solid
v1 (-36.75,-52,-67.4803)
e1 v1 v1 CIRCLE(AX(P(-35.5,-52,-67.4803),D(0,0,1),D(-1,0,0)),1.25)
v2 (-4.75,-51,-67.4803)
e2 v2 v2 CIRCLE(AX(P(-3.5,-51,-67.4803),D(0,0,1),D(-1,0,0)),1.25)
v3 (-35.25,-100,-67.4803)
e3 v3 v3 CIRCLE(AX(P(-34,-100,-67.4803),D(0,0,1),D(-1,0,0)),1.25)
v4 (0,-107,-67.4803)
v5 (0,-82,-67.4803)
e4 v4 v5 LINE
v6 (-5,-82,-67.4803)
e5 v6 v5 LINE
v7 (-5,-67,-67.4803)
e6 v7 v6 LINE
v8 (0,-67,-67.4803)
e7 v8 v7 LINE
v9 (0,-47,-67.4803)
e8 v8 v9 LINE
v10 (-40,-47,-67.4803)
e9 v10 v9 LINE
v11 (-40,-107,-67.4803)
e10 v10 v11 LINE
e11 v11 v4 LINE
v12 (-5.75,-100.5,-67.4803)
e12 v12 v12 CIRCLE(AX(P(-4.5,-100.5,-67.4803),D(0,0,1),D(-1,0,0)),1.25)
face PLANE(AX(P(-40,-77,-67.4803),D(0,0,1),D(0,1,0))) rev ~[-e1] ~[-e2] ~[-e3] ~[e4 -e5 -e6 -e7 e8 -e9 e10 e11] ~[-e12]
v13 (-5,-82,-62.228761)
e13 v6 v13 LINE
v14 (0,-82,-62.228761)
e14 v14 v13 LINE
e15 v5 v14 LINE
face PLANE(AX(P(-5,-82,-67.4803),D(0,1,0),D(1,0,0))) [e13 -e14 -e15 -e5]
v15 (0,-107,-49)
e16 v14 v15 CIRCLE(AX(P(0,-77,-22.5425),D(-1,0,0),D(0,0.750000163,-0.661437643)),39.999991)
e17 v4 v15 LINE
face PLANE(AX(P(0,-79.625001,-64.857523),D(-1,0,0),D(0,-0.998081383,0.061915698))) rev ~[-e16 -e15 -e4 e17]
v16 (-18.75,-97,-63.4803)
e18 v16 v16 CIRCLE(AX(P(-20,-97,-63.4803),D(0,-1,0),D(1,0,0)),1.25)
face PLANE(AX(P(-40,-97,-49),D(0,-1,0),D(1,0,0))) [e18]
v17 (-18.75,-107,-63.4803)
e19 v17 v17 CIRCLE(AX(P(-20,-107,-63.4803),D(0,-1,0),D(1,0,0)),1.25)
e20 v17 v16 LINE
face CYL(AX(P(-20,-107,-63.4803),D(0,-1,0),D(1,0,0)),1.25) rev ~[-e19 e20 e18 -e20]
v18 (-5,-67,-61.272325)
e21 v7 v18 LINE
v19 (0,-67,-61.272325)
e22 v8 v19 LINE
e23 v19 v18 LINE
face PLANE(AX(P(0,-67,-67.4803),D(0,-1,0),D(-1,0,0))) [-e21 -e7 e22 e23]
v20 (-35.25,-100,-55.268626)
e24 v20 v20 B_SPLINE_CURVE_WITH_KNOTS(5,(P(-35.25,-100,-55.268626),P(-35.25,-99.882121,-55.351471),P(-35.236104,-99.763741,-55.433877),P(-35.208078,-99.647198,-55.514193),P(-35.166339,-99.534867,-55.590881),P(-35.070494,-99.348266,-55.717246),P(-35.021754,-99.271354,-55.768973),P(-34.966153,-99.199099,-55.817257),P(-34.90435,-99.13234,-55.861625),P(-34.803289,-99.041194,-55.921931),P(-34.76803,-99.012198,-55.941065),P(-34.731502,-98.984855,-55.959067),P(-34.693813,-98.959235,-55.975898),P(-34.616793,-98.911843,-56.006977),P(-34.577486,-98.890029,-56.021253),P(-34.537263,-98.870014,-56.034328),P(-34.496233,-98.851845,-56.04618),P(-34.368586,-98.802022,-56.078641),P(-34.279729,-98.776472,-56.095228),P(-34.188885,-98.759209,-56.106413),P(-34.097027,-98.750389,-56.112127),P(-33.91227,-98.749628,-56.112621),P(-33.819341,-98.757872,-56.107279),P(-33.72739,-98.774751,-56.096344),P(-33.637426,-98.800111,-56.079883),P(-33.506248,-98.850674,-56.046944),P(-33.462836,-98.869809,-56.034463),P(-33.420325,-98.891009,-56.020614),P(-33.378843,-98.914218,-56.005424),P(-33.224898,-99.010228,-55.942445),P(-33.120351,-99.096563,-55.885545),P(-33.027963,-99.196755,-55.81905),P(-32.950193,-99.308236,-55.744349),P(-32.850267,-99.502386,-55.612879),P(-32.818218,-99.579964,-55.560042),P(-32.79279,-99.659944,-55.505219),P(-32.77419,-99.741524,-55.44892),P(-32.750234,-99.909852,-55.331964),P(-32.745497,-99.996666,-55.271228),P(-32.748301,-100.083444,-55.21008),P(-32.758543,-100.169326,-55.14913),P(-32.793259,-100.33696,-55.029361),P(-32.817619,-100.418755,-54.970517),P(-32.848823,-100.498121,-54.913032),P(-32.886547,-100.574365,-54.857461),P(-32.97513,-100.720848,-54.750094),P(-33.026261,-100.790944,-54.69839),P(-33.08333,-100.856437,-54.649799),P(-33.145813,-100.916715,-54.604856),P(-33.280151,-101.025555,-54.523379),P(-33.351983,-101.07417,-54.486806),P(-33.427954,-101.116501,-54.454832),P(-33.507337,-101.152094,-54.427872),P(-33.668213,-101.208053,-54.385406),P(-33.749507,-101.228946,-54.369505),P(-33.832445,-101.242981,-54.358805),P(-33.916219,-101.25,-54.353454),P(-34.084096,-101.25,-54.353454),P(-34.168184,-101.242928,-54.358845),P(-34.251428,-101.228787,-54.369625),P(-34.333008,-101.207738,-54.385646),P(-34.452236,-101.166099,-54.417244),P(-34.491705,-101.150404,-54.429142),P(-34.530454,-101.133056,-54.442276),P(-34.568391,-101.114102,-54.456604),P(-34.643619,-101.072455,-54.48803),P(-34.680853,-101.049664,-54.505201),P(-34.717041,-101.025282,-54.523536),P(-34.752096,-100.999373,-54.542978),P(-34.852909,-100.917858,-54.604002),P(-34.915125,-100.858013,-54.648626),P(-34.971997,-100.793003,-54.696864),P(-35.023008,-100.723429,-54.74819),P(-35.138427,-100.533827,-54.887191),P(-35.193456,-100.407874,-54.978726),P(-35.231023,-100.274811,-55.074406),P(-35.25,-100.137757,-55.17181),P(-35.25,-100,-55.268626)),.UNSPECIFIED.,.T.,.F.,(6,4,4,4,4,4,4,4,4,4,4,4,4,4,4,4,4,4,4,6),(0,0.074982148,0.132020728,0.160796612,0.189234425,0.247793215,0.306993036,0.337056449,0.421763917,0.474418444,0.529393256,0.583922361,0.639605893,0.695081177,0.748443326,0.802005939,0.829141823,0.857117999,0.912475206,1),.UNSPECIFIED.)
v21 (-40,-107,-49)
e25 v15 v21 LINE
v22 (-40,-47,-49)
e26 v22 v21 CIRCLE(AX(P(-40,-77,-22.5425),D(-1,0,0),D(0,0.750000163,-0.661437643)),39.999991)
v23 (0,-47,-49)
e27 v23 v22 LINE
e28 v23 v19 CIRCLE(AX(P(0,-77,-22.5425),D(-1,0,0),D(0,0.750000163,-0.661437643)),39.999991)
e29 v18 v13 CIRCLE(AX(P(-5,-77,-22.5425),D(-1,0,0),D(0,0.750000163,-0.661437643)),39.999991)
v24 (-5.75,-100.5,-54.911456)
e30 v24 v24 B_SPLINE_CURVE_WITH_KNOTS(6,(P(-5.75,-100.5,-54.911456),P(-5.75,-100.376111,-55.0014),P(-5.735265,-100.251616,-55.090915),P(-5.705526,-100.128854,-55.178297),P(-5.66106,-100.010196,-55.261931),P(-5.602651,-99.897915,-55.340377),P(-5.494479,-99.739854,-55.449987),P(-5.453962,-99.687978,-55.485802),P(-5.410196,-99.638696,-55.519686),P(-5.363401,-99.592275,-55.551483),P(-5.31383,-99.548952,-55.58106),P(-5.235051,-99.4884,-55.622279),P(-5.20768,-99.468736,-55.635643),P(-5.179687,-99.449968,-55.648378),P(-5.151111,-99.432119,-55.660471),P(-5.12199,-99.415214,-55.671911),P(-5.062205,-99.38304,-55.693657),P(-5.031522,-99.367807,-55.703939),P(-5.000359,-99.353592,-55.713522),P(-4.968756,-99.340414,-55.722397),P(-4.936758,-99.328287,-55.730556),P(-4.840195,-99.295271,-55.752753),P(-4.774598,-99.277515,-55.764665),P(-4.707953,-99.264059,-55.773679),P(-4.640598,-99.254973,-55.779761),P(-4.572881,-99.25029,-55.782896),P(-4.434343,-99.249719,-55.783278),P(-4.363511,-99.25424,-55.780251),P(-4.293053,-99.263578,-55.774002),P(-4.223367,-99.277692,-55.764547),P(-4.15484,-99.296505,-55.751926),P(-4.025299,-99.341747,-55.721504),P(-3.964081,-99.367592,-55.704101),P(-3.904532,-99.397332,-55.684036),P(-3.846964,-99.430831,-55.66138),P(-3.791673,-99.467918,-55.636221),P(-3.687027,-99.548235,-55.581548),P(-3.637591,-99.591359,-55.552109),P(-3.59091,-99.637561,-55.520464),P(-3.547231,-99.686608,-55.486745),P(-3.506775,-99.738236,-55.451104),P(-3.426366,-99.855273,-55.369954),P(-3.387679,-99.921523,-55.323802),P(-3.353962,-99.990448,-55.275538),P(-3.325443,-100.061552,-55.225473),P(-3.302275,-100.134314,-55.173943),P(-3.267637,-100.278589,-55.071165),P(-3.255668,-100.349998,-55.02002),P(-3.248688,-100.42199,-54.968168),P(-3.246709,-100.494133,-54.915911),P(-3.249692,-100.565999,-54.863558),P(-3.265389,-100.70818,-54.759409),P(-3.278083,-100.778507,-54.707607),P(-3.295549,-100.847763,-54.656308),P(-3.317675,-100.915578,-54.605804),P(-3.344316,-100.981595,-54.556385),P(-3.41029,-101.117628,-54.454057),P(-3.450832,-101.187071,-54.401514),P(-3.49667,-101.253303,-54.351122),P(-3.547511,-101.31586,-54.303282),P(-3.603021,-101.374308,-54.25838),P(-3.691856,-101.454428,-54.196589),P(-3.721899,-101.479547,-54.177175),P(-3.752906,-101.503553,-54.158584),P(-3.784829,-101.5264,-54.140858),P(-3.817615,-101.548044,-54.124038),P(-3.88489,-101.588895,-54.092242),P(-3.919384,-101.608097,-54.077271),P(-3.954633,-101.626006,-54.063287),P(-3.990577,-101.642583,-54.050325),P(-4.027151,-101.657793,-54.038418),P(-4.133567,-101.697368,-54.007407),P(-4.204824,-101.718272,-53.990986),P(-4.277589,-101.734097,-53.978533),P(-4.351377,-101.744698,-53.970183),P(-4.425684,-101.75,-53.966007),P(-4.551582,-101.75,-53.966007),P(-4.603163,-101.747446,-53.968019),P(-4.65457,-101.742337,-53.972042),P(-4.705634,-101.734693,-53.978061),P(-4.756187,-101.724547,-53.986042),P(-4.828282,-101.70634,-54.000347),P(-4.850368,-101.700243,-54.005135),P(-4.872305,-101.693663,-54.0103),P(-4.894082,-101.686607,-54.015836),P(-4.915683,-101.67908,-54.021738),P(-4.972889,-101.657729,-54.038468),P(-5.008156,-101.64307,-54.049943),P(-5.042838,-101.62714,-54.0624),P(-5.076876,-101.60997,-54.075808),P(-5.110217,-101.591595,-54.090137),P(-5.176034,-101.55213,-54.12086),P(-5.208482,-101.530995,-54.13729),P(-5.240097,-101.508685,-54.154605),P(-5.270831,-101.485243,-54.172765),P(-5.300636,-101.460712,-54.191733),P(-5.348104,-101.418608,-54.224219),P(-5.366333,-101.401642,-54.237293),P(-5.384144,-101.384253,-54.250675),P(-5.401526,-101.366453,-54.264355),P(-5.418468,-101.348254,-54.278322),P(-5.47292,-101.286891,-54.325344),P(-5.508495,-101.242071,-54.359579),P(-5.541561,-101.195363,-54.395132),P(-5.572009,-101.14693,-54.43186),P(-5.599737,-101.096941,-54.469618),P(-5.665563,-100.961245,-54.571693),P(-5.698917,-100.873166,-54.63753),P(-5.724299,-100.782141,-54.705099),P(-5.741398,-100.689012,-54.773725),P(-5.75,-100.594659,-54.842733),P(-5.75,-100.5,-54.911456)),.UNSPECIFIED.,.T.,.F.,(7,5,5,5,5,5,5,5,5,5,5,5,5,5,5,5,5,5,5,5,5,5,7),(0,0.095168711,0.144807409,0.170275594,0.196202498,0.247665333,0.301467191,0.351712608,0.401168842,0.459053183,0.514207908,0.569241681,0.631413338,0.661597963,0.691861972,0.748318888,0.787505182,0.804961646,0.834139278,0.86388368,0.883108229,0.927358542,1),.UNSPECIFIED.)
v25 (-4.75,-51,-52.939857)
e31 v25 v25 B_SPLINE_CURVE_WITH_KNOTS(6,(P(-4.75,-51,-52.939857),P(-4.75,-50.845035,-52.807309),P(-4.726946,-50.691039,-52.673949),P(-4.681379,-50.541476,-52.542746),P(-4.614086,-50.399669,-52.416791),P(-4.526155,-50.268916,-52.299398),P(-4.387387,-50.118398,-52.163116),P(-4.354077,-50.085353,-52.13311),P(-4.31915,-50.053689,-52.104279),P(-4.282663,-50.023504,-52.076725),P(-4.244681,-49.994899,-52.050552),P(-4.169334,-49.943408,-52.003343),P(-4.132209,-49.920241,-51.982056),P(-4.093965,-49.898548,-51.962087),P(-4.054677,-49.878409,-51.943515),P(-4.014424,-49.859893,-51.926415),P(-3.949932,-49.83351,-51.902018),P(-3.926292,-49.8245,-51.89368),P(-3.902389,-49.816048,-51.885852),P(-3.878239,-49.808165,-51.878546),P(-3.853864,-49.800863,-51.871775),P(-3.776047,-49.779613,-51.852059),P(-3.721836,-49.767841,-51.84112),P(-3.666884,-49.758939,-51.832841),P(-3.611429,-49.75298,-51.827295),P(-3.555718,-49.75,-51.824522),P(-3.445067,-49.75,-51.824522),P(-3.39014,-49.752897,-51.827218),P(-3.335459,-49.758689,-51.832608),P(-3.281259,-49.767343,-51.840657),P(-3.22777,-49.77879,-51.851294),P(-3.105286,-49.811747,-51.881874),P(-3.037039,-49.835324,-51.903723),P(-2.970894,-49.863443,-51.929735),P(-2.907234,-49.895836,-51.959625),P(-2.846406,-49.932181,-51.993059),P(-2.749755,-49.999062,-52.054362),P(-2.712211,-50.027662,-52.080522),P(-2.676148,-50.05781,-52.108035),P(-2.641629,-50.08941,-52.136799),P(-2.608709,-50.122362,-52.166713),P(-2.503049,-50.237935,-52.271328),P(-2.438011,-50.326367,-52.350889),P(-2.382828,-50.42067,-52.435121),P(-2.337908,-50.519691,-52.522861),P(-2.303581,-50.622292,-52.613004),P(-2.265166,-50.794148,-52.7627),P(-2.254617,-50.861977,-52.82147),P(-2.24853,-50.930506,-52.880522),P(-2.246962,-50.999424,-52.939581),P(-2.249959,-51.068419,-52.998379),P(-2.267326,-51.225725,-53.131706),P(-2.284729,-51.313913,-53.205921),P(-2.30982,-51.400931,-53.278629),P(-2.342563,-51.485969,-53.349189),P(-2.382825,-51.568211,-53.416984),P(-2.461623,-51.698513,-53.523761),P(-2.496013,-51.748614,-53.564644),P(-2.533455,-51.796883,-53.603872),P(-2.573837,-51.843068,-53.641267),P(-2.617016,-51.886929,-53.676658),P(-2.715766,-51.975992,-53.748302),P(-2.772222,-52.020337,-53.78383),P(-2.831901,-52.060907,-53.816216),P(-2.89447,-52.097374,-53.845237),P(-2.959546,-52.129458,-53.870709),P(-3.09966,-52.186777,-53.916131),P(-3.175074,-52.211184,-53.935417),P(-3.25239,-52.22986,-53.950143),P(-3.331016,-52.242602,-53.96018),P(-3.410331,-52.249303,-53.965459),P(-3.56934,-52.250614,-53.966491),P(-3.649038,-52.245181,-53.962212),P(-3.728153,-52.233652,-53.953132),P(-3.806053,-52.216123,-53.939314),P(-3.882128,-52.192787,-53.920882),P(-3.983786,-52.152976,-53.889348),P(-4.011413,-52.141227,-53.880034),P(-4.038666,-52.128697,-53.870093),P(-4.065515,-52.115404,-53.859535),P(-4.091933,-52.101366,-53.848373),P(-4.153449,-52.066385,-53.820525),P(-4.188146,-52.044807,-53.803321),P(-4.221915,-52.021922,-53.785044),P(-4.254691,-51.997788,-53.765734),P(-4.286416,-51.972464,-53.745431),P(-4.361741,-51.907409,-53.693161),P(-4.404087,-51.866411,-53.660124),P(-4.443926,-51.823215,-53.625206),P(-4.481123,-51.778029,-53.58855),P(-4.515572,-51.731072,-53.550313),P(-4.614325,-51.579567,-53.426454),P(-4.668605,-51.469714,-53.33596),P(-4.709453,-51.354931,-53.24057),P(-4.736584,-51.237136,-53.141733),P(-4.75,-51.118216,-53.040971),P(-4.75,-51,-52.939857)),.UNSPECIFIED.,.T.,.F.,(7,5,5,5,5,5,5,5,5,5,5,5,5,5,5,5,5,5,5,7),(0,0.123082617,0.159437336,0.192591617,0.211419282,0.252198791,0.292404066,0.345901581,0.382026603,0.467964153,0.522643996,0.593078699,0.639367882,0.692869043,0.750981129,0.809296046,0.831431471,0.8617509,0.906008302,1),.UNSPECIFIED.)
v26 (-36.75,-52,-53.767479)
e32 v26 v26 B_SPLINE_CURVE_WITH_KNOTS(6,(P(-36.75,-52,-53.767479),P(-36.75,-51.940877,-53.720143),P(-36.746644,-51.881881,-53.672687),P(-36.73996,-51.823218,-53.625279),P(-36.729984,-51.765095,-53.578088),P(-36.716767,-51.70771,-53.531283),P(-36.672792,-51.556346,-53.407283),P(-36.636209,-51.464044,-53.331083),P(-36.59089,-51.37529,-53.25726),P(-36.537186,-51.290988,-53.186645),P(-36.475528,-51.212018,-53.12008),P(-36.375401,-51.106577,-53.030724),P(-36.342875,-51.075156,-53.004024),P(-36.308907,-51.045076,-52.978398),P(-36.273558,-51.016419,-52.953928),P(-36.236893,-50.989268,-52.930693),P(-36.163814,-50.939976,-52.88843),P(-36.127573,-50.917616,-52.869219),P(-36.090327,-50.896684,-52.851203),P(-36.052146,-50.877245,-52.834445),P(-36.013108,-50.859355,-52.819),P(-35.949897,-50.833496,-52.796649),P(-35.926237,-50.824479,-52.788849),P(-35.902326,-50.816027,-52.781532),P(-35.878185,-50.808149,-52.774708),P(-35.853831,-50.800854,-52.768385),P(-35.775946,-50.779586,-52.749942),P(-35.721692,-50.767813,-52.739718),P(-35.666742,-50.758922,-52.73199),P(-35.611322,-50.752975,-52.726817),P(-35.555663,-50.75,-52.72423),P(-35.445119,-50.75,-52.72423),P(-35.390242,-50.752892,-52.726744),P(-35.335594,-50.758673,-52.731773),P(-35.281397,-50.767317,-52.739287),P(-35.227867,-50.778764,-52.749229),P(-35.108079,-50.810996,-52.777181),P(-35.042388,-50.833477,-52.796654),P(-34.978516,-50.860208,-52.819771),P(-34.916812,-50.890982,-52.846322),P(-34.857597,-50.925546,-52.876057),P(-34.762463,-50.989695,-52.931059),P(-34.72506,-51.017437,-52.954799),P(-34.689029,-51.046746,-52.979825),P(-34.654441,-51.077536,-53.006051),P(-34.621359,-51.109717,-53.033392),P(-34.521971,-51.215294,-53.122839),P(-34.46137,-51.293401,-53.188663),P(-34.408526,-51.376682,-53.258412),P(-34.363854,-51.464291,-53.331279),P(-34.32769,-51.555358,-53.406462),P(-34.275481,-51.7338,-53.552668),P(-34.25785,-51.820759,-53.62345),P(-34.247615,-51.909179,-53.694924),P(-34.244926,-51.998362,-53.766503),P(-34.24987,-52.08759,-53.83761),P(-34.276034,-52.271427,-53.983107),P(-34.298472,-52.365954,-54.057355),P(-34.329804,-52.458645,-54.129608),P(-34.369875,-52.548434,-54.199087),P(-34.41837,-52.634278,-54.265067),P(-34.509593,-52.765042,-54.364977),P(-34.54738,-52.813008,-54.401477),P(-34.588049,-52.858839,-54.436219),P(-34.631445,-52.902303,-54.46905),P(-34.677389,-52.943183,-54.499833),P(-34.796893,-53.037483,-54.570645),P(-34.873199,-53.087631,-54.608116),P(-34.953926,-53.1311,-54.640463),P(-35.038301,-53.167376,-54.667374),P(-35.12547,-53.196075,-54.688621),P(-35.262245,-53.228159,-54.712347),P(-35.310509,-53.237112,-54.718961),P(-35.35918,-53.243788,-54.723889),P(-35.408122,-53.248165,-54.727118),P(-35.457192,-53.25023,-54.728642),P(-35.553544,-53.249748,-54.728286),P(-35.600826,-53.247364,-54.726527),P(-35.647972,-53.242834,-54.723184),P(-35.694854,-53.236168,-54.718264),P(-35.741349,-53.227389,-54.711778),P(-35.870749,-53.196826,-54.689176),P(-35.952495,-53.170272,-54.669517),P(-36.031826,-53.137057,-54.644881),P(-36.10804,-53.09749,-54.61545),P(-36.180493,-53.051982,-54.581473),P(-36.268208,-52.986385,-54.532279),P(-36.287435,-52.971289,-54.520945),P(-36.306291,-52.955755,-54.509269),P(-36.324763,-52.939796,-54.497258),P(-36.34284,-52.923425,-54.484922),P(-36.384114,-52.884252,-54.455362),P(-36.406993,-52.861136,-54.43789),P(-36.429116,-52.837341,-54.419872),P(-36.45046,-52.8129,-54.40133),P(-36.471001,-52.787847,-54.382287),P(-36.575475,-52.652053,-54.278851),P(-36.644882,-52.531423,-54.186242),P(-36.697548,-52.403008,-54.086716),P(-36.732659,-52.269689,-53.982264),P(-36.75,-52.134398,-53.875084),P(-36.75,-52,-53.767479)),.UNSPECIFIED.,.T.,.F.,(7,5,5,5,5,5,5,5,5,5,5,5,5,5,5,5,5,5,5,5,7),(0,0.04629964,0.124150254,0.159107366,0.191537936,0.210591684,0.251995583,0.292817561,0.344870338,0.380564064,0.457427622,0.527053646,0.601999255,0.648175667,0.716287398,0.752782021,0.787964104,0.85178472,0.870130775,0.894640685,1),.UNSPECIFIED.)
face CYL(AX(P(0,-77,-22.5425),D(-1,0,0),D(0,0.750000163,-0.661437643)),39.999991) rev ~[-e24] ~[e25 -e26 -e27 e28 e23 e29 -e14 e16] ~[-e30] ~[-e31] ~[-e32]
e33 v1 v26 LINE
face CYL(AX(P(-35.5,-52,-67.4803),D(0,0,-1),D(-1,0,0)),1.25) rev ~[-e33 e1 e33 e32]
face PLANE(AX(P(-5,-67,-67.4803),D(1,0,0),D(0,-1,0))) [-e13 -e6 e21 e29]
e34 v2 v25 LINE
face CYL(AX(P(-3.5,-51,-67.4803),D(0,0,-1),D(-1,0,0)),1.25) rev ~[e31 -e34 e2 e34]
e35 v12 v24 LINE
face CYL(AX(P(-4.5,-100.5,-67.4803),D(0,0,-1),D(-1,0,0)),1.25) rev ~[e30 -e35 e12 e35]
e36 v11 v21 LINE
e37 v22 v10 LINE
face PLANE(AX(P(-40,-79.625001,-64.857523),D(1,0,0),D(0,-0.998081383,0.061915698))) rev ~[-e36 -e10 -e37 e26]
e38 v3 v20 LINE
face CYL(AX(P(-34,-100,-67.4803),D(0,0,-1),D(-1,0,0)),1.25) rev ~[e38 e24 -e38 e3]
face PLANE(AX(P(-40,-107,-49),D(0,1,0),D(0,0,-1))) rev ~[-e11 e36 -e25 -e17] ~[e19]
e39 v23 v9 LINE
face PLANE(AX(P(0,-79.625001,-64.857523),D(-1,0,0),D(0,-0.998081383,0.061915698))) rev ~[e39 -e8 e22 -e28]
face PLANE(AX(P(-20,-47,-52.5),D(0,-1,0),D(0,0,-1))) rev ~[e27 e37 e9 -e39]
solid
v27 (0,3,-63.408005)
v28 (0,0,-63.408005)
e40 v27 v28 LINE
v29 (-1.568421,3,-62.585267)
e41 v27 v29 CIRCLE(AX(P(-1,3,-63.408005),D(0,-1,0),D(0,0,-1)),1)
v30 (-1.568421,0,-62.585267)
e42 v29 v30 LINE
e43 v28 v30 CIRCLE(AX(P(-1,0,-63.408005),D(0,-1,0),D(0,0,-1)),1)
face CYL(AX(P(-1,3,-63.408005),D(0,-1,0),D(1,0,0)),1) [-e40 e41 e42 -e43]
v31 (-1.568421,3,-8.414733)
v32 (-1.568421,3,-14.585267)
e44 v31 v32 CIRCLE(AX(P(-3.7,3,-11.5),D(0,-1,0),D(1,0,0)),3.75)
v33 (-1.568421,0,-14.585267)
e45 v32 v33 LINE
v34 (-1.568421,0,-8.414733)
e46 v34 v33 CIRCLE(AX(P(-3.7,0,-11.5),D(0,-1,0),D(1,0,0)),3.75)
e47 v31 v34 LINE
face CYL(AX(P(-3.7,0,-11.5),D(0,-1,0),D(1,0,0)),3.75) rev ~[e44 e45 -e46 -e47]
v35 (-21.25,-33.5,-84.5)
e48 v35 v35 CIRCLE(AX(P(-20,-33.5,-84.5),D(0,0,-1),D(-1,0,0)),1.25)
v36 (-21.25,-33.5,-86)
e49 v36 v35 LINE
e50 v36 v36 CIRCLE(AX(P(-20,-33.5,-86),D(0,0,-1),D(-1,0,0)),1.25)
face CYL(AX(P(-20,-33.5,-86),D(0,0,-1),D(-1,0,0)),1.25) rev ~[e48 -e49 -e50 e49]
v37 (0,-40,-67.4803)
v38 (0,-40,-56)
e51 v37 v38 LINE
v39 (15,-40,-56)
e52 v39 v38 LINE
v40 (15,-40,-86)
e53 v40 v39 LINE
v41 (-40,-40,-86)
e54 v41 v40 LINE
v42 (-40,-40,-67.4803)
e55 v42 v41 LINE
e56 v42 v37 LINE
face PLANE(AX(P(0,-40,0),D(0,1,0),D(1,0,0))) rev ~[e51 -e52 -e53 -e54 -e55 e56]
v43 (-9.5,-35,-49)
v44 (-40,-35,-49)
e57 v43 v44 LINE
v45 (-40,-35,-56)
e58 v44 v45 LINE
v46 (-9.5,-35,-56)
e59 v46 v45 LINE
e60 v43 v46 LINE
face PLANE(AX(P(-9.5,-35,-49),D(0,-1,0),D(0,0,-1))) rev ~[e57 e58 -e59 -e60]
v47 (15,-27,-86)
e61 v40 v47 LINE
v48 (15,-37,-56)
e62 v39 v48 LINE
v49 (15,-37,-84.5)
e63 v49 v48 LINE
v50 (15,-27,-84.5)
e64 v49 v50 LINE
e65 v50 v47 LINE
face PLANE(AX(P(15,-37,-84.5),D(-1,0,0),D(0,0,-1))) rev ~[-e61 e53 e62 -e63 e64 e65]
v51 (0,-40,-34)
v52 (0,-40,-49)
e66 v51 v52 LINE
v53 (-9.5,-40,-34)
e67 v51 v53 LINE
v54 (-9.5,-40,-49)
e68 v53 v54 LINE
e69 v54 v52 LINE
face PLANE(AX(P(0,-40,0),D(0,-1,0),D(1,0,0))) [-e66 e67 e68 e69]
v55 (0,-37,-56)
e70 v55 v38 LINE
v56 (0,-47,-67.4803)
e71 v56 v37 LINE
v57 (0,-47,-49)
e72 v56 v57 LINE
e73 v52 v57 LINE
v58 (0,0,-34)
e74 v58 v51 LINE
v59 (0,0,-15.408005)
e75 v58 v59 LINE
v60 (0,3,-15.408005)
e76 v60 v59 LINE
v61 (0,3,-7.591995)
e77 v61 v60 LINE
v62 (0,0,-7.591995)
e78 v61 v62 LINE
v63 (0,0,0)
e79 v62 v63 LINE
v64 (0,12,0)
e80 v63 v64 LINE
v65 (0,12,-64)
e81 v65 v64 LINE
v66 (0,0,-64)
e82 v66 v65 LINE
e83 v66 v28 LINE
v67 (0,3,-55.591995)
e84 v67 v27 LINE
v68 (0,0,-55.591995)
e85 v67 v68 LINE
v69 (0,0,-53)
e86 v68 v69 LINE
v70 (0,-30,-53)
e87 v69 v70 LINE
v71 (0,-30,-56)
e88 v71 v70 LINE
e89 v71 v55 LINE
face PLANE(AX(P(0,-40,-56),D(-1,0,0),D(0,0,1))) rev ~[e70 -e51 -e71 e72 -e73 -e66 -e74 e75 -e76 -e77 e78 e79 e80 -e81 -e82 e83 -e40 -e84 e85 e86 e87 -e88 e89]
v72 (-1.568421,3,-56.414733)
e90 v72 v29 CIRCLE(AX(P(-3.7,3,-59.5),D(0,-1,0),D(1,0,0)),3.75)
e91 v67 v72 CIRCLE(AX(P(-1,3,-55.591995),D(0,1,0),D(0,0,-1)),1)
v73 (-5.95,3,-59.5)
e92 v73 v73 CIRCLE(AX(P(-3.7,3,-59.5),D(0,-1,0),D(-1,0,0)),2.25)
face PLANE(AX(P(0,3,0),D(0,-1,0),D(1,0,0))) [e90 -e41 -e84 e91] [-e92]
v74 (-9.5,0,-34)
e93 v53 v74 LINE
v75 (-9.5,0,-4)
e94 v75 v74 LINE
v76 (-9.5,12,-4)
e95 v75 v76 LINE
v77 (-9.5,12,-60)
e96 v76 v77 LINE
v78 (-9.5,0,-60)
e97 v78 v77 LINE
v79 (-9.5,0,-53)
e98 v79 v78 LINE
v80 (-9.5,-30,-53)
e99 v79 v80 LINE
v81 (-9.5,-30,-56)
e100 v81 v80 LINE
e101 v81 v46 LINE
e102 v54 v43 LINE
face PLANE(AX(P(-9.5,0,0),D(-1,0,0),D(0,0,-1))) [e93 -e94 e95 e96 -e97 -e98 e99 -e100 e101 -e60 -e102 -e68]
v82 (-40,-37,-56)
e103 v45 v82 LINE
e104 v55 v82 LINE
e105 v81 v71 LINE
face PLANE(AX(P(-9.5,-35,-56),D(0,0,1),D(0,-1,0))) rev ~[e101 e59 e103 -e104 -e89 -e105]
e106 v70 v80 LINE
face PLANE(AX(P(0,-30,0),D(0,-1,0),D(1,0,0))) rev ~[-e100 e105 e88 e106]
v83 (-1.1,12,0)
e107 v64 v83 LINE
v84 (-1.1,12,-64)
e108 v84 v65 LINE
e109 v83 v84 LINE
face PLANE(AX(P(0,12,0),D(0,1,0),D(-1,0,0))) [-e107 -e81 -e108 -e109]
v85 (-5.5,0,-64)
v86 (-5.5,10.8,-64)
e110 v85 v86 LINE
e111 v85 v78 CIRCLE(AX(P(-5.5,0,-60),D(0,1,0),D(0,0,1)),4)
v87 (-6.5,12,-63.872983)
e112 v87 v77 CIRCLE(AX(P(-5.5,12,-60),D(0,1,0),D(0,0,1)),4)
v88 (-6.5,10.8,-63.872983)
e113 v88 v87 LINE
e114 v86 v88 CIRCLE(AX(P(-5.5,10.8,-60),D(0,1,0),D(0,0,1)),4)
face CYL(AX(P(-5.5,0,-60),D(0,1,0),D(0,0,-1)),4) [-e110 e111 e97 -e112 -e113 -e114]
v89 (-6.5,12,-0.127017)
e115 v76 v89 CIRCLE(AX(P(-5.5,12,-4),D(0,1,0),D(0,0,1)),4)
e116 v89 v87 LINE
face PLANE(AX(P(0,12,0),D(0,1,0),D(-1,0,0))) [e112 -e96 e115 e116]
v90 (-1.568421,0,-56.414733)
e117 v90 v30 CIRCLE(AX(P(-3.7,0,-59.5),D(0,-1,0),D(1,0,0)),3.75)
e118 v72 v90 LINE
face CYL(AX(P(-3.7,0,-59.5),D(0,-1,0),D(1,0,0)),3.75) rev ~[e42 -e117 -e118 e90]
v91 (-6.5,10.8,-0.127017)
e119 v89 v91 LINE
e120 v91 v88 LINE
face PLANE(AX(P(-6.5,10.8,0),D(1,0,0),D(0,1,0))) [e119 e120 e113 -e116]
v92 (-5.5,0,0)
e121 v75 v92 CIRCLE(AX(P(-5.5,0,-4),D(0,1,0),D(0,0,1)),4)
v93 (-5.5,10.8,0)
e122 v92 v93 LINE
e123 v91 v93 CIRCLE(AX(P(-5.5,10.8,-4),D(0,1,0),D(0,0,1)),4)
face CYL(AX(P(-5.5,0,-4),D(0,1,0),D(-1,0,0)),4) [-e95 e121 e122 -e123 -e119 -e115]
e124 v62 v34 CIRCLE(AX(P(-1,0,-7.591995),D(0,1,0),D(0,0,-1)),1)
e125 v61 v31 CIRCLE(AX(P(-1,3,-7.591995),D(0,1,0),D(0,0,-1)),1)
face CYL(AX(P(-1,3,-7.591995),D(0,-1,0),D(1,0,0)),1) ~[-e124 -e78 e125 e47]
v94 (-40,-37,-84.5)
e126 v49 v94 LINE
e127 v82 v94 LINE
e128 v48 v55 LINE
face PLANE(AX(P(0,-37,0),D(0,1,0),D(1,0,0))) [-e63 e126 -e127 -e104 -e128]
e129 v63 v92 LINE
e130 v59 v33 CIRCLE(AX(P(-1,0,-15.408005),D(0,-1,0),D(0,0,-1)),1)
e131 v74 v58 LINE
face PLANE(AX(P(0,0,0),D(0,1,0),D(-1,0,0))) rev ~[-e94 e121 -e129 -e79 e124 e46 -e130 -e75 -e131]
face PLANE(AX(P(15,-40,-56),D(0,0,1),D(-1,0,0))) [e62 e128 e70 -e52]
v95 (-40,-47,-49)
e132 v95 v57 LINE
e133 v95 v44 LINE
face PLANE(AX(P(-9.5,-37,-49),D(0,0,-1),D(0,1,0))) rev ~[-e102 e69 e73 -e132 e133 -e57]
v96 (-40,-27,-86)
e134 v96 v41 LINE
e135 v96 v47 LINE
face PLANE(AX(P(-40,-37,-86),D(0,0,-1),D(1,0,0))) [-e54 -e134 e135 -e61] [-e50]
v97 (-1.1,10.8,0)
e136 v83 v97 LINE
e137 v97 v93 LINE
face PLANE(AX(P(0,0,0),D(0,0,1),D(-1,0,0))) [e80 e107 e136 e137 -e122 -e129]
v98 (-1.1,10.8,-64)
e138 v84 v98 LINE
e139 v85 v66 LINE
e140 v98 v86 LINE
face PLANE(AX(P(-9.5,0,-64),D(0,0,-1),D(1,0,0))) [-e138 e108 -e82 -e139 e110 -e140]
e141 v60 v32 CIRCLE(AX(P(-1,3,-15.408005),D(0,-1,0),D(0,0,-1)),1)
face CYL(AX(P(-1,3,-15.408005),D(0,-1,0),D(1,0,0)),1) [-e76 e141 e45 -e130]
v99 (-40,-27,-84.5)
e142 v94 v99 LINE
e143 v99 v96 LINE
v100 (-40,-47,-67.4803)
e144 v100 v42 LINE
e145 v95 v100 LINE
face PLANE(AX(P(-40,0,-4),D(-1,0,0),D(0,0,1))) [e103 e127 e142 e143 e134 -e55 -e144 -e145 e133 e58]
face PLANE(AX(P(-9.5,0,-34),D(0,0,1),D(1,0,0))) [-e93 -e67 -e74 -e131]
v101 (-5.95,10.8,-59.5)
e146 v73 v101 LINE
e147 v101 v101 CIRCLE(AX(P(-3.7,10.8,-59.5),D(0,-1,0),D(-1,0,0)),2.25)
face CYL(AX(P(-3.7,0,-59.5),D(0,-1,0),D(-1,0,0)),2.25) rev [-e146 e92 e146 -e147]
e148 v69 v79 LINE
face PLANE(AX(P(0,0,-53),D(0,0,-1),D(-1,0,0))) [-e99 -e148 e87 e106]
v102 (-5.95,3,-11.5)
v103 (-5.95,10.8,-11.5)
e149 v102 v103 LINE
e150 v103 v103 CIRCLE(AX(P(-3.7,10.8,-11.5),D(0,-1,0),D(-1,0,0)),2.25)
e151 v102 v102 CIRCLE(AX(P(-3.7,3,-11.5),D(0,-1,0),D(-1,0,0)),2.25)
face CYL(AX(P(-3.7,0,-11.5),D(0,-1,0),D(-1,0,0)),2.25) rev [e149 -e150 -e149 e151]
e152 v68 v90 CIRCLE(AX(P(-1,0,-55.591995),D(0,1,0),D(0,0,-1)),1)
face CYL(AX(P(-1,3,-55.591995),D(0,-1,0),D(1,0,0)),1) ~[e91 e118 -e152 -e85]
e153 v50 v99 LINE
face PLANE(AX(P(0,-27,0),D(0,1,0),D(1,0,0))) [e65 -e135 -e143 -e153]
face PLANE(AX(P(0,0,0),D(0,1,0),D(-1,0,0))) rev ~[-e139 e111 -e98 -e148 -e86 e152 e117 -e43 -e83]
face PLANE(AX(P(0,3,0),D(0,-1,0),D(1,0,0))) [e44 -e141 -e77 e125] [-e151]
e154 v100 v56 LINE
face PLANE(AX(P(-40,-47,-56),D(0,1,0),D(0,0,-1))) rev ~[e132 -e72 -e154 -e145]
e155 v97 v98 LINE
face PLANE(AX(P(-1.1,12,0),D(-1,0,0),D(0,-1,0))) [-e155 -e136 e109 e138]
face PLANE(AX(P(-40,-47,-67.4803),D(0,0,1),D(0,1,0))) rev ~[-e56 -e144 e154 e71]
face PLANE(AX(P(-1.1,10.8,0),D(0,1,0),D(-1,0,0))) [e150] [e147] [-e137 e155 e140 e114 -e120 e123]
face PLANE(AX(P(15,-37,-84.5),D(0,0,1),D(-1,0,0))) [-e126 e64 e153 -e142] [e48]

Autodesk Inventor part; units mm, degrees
ref_plane "YZ Plane" through (0, 0, 0) normal (1, 0, 0) x (0, 1, 0)
ref_plane "XZ Plane" through (0, 0, 0) normal (0, 1, 0) x (-1, 0, 0)
ref_plane "XY Plane" through (0, 0, 0) normal (0, 0, 1) x (1, 0, 0)
sketch "Sketch1" plane through (0, 0, 0) normal (0, 1, 0) x (-1, 0, 0)
  line L0 (0, 0) -> (9.5, 0)
  line L1 (9.5, 0) -> (9.5, -64)
  line L2 (9.5, -64) -> (0, -64)
  line L3 (0, -64) -> (0, 0)
  circle A0 centre (3.7, -11.5) radius 2.25
  circle A1 centre (3.7, -59.5) radius 2.25
  line L4 (3.7, -11.5) -> (3.7, -59.5) construction
  dimension "d1" = 9.5
  dimension "d2" = 64
  dimension "d3" = 4.5
  dimension "d4" = 48
  dimension "d6" = 3.7
  dimension "d17" = 4.5
extrude "Extrusion1" add sketch "Sketch1" along normal blind 12
sketch "Sketch2" plane through (-9.5, 0, 0) normal (0, 0, 1) x (1, 0, 0)
  line L0 (9.5, 12) -> (0, 12) projected
  line L1 (3, 12) -> (8.4, 12)
  line L2 (8.4, 12) -> (8.4, 10.8)
  line L3 (8.4, 10.8) -> (3, 10.8)
  line L4 (3, 10.8) -> (3, 12)
  line L5 (9.5, 0) -> (9.5, 12) projected
  line L6 (3.55, 0) -> (8.05, 0) projected
  line L7 (3.55, 12) -> (8.05, 12) projected
  line L8 (9.5, 0) -> (9.5, 12) projected
  line L9 (9.5, 0) -> (9.5, 12) projected
  line L10 (3.55, 12) -> (8.05, 12) projected
  line L11 (3.55, 12) -> (3.55, 0) projected
  line L12 (3.55, 12) -> (8.05, 12) projected
  line L13 (3.55, 0) -> (8.05, 0) projected
  line L14 (3.55, 12) -> (8.05, 12) projected
  line L15 (3.55, 0) -> (8.05, 0) projected
  line L16 (3.55, 12) -> (8.05, 12) projected
  line L17 (3.55, 0) -> (8.05, 0) projected
  dimension "d9" = 1.1
  dimension "d10" = 5.4
  dimension "d11" = 1.2
  dimension "d76" = 12
extrude "Extrusion2" cut sketch "Sketch2" against normal up to next
sketch "Sketch3" plane through (0, 0, 0) normal (0, -1, 0) x (1, 0, 0)
  circle A0 centre (-3.7, -11.5) radius 2.25 projected
  circle A1 centre (-3.7, -11.5) radius 3.75
  circle A2 centre (-3.7, -59.5) radius 2.25 projected
  circle A3 centre (-3.7, -59.5) radius 3.75
  point P0 (0, 0)
  dimension "d14" = 7.5
extrude "Extrusion3" cut sketch "Sketch3" against normal blind 3
fillet "Fillet1" radius 1 4 edges at (0, 1.5, -58.8897) (0, 1.5, -60.1103) (0, 1.5, -10.8897) (0, 1.5, -12.1103)
fillet "Fillet2" radius 4 2 edges at (-9.5, 6, -64) (-9.5, 6, 0)
sketch "Sketch28" plane through (0, 0, 0) normal (0, -1, 0) x (1, 0, 0)
  arc A0 (-1.5684, -56.4147) -> (0, -55.592) centre (-1, -55.592) ccw projected
  line L0 (0, -55.592) -> (0, -53)
  line L1 (0, -15.408) -> (0, -55.592) projected
  line L2 (-9.5, -60) -> (-9.5, -4) projected
  line L3 (0, -53) -> (-9.5, -53)
  line L4 (-9.5, -53) -> (-9.5, -34)
  line L5 (-9.5, -34) -> (0, -34)
  line L6 (0, -34) -> (0, -53)
  point P0 (0, 0)
  point P1 (0, -34)
  dimension "d107" = 2.592
  dimension "d108" = 19
extrude "Extrusion19" add sketch "Sketch28" along normal blind 30
sketch "Sketch40" plane through (0, -30, 0) normal (0, -1, 0) x (1, 0, 0)
  line L0 (0, -53) -> (-9.5, -53) projected
  line L1 (-9.5, -53) -> (-9.5, -56)
  line L2 (-9.5, -56) -> (0, -56)
  line L3 (0, -56) -> (0, -34)
  line L4 (0, 0) -> (0, -64) projected
  line L5 (0, -34) -> (-9.5, -34)
  line L6 (-9.5, -34) -> (-9.5, -53)
  line L7 (-9.5, -34) -> (0, -34)
  line L8 (0, -34) -> (0, -56)
  line L9 (0, -56) -> (-9.5, -56)
  line L10 (-9.5, -56) -> (-9.5, -34)
  dimension "d130" = 3
  dimension "d131" = 22
extrude "Extrusion21" add sketch "Sketch40" along normal blind 10
sketch "Sketch41" plane through (0, 0, -53) normal (0, 0, -1) x (-1, 0, 0)
  point P0 (0, 0)
sketch "Sketch42" plane through (0, -40, 0) normal (0, -1, 0) x (1, 0, 0)
  line L0 (-9.5, -56) -> (0, -56) projected
  line L1 (-9.5, -56) -> (-40, -56)
  line L2 (-9.5, -56) -> (21, -56) construction
  line L3 (-40, -56) -> (-40, -49)
  line L4 (-40, -49) -> (0, -49)
  line L5 (0, -49) -> (0, -56)
  line L6 (0, -56) -> (-9.5, -56)
  point P0 (0, 0)
  point P1 (0, -56)
  dimension "d134" = 30.5
  dimension "d135" = 180
  dimension "d136" = 7
  dimension "d137" = 40
  dimension "d138" = 7
extrude "Extrusion22" add sketch "Sketch42" along normal blind 7
sketch "Sketch54" plane through (-40, -40, -56) normal (-1, 0, 0) x (0, 0, 1)
  arc A0 (7, -7) -> (7, -57) centre (31.4949, -32) ccw projected
  line L0 (-6.4428, -57) -> (19.2704, -57)
  line L1 (19.2704, -57) -> (19.2704, -74.6848)
  line L2 (19.2704, -74.6848) -> (-6.4428, -74.6848)
  line L3 (-6.4428, -74.6848) -> (-6.4428, -57)
  point P0 (56, 40)
extrude "Extrusion25" cut sketch "Sketch54" against normal blind 104.3
sketch "Sketch56" plane through (0, -47, 0) normal (0, -1, 0) x (1, 0, 0)
  line L0 (-40, -56) -> (0, -56) projected
  line L1 (0, -56) -> (0, -49) projected
  line L2 (-40, -56) -> (0, -56)
  line L3 (0, -56) -> (0, -49)
  line L4 (0, -49) -> (-40, -49)
  line L5 (-40, -49) -> (-40, -56)
  point P0 (0, 0)
  point P1 (9.3, -58)
sketch "Sketch58" plane through (-40, -40, -56) normal (-1, 0, 0) x (0, 0, 1)
  arc A0 (7, -7) -> (7, -67) centre (33.4575, -37) ccw
  point P0 (56, 40)
  dimension "d164" = 60
  dimension "d165" = 40
sweep "Sweep4" add profiles "Sketch56" path "Sketch58" separate body
sketch "Sketch59" plane through (-40, -47, -56) normal (-1, 0, 0) x (0, 0, 1)
  line L0 (7.875, -66.9451) -> (7, -60) projected
  line L1 (7, -60) -> (-3.876, -60)
  line L2 (-3.876, -60) -> (-3.876, -70.2842)
  line L3 (-3.876, -70.2842) -> (7, -70.2842)
  line L4 (7, -70.2842) -> (7, -60)
  line L5 (-3.876, -60) -> (12.796, -60)
  line L6 (12.796, -60) -> (12.796, -72.0421)
  line L7 (12.796, -72.0421) -> (-3.876, -72.0421)
  line L8 (-3.876, -72.0421) -> (-3.876, -60)
  point P0 (56, 47)
  point P1 (7, -60)
extrude "Extrusion26" cut sketch "Sketch59" against normal blind 63.025 bodies 2
sketch "Sketch60" plane through (0, -40, 0) normal (0, 1, 0) x (1, 0, 0)
  point P0 (0, 0)
sketch "Sketch61" plane through (-40, -47, -56) normal (-1, 0, 0) x (0, 0, 1)
  arc A0 (0, 0) -> (0, -60) centre (33.4575, -30) ccw projected
  line L0 (-11.4803, -30) -> (-11.4803, 0)
  line L1 (-11.4803, 0) -> (0, 0)
  line L2 (-11.4803, -30) -> (-11.4803, -60)
  line L3 (-11.4803, -60) -> (0, -60)
  arc A1 (0, 0) -> (0, -60) centre (33.4575, -30) ccw
  point P0 (56, 47)
extrude "Extrusion27" add sketch "Sketch61" against normal blind 40 bodies 2
sketch "Sketch62" plane through (-40, -47, -49) normal (0, 1, 0) x (1, 0, 0)
  point P0 (40, -49)
sketch "Sketch63" plane through (-40, -40, -56) normal (-1, 0, 0) x (0, 0, 1)
  line L0 (0, 10) -> (0, -7) projected
  line L1 (0, -7) -> (-11.4803, -7)
  line L2 (-11.4803, -7) -> (-11.4803, 0)
  line L3 (-11.4803, 0) -> (0, 0)
  line L4 (0, 0) -> (0, -7)
  point P0 (56, 40)
  point P1 (0, 0)
  dimension "d172" = 7
extrude "Extrusion28" add sketch "Sketch63" against normal blind 40 bodies 1
sketch "Sketch64" plane through (0, -40, 0) normal (0, 1, 0) x (1, 0, 0)
  point P0 (0, 0)
sketch "Sketch65" plane through (-40, -107, -67.4803) normal (0, 0, -1) x (-1, 0, 0)
  line L0 (-40, 0) -> (-40, 60) projected
  line L1 (-40, 25) -> (-40, 40)
  line L2 (-40, 40) -> (-35, 40)
  line L3 (-35, 40) -> (-35, 25)
  line L4 (-35, 25) -> (-40, 25)
  point P0 (-40, 107)
  point P1 (0, 0)
  dimension "d179" = 15
  dimension "d180" = 5
  dimension "d181" = 15
extrude "Extrusion29" cut sketch "Sketch65" against normal blind 20.95 bodies 2
sketch "Sketch66" plane through (0, -107, -49) normal (1, 0, 0) x (0, 0, -1)
  point P0 (-49, 107)
sketch "Sketch67" plane through (-40, -47, -67.4803) normal (0, 0, -1) x (-1, 0, 0)
  point P0 (-40, 47)
sketch "Sketch68" plane through (0, -40, 0) normal (0, 1, 0) x (1, 0, 0)
  line L0 (0, 56) -> (-9.5, 56) projected
  line L1 (15, 56) -> (-40, 56)
  line L2 (-40, 67.4803) -> (0, 67.4803) projected
  line L3 (15, 56) -> (-40, 56)
  line L4 (-40, 56) -> (-40, 86)
  line L5 (-40, 86) -> (15, 86)
  line L6 (15, 86) -> (15, 56)
  point P0 (0, 0)
  dimension "d184" = 15
  dimension "d187" = 30
extrude "Extrusion30" add sketch "Sketch68" along normal blind 3 bodies 1
sketch "Sketch69" plane through (0, -40, 0) normal (0, 1, 0) x (1, 0, 0)
  line L0 (-40, 49) -> (-40, 56) projected
  line L1 (-9.5, 49) -> (-9.5, 56) projected
  line L2 (-40, 49) -> (-9.5, 49)
  line L3 (-9.5, 49) -> (-9.5, 56)
  line L4 (-9.5, 56) -> (-40, 56)
  line L5 (-40, 56) -> (-40, 49)
  point P0 (0, 0)
extrude "Extrusion31" add sketch "Sketch69" along normal blind 3 bodies 1
sketch "Sketch70" plane through (0, -37, 0) normal (0, 1, 0) x (1, 0, 0)
  line L0 (15, 56) -> (15, 86) projected
  line L1 (-40, 86) -> (15, 86)
  line L2 (15, 86) -> (15, 84.5)
  line L3 (15, 84.5) -> (-40, 84.5)
  line L4 (-40, 84.5) -> (-40, 86)
  point P0 (0, 0)
  dimension "d192" = 1.5
extrude "Extrusion32" add sketch "Sketch70" along normal blind 10 bodies 1
sketch "Sketch72" plane through (-40, -107, -67.4803) normal (0, 0, -1) x (-1, 0, 0)
  line L0 (0, 60) -> (0, 0) projected
  line L1 (0, 0) -> (-1, 0)
  line L2 (-1, 0) -> (-1, 3)
  line L3 (-1, 3) -> (0, 3)
  line L4 (0, 3) -> (0, 0)
  line L5 (-1, 3) -> (-39, 3)
  line L6 (-39, 3) -> (-39, 59)
  line L7 (-39, 59) -> (-1, 59)
  line L8 (-1, 59) -> (-1, 3)
  line L9 (-1, 3) -> (-6, 3)
  line L10 (-6, 3) -> (-6, 7)
  line L11 (-6, 7) -> (-1, 7)
  line L12 (-1, 7) -> (-1, 3)
  circle A0 centre (-6, 7) radius 1.25
  line L13 (-1, 59) -> (-4.5, 59)
  line L14 (-4.5, 59) -> (-4.5, 55)
  line L15 (-4.5, 55) -> (-1, 55)
  line L16 (-1, 55) -> (-1, 59)
  circle A1 centre (-4.5, 55) radius 1.25
  line L17 (-39, 59) -> (-36.5, 59)
  line L18 (-36.5, 59) -> (-36.5, 56)
  line L19 (-36.5, 56) -> (-39, 56)
  line L20 (-39, 56) -> (-39, 59)
  circle A2 centre (-36.5, 56) radius 1.25
  line L21 (-39, 3) -> (-35.5, 3)
  line L22 (-35.5, 3) -> (-35.5, 6.5)
  line L23 (-35.5, 6.5) -> (-39, 6.5)
  line L24 (-39, 6.5) -> (-39, 3)
  circle A3 centre (-35.5, 6.5) radius 1.25
  point P0 (-40, 107)
  dimension "d195" = 1
  dimension "d196" = 3
  dimension "d197" = 38
  dimension "d198" = 56
  dimension "d199" = 5
  dimension "d200" = 4
  dimension "d201" = 2.5
  dimension "d202" = 3.5
  dimension "d203" = 4
  dimension "d204" = 2.5
  dimension "d205" = 2.5
  dimension "d206" = 3
  dimension "d207" = 2.5
  dimension "d208" = 3.5
  dimension "d209" = 3.5
  dimension "d210" = 2.5
extrude "Extrusion33" cut sketch "Sketch72" against normal blind 71.9125 contours A0 L11 L10 | L10 L11 A0 | A3 L23 L22 | L22 L23 A3 | A1 L14 L15 | L15 L14 A1 | A2 L18 L19 | L19 L18 A2 bodies 2
sketch "Sketch73" plane through (-9.5, 0, -4) normal (-1, 0, 0) x (0, 0, 1)
  line L0 (-52, -37) -> (-52, -40) projected
  line L1 (-52, -37) -> (-45, -37)
  line L2 (-45, -37) -> (-45, -35)
  line L3 (-45, -35) -> (-52, -35)
  line L4 (-52, -35) -> (-52, -37)
  point P0 (4, 0)
  dimension "d213" = 7
  dimension "d214" = 2
extrude "Extrusion34" add sketch "Sketch73" along normal blind 30.5 bodies 1
sketch "Sketch74" plane through (-40, -107, -49) normal (0, -1, 0) x (1, 0, 0)
  line L0 (40, 0) -> (0, 0) projected
  line L1 (0, 0) -> (0, -18.4803) projected
  line L2 (0, -18.4803) -> (40, -18.4803) projected
  line L3 (0, -18.4803) -> (40, -18.4803)
  circle A0 centre (20, -14.4803) radius 1.25
  point P0 (40, 49)
  dimension "d218" = 2.5
extrude "Extrusion35" cut sketch "Sketch74" against normal blind 10 bodies 2
sketch "Sketch75" plane through (15, -40, -86) normal (0, 0, -1) x (-1, 0, 0)
  line L0 (55, 13) -> (0, 13) projected
  line L1 (55, 0) -> (55, 13) projected
  line L2 (55, 6.5) -> (35, 6.5)
  circle A0 centre (35, 6.5) radius 1.25
  point P0 (15, 40)
  dimension "d221" = 20
  dimension "d222" = 2.5
extrude "Extrusion36" cut sketch "Sketch75" against normal blind 10 bodies 1
properties part number "Back"
